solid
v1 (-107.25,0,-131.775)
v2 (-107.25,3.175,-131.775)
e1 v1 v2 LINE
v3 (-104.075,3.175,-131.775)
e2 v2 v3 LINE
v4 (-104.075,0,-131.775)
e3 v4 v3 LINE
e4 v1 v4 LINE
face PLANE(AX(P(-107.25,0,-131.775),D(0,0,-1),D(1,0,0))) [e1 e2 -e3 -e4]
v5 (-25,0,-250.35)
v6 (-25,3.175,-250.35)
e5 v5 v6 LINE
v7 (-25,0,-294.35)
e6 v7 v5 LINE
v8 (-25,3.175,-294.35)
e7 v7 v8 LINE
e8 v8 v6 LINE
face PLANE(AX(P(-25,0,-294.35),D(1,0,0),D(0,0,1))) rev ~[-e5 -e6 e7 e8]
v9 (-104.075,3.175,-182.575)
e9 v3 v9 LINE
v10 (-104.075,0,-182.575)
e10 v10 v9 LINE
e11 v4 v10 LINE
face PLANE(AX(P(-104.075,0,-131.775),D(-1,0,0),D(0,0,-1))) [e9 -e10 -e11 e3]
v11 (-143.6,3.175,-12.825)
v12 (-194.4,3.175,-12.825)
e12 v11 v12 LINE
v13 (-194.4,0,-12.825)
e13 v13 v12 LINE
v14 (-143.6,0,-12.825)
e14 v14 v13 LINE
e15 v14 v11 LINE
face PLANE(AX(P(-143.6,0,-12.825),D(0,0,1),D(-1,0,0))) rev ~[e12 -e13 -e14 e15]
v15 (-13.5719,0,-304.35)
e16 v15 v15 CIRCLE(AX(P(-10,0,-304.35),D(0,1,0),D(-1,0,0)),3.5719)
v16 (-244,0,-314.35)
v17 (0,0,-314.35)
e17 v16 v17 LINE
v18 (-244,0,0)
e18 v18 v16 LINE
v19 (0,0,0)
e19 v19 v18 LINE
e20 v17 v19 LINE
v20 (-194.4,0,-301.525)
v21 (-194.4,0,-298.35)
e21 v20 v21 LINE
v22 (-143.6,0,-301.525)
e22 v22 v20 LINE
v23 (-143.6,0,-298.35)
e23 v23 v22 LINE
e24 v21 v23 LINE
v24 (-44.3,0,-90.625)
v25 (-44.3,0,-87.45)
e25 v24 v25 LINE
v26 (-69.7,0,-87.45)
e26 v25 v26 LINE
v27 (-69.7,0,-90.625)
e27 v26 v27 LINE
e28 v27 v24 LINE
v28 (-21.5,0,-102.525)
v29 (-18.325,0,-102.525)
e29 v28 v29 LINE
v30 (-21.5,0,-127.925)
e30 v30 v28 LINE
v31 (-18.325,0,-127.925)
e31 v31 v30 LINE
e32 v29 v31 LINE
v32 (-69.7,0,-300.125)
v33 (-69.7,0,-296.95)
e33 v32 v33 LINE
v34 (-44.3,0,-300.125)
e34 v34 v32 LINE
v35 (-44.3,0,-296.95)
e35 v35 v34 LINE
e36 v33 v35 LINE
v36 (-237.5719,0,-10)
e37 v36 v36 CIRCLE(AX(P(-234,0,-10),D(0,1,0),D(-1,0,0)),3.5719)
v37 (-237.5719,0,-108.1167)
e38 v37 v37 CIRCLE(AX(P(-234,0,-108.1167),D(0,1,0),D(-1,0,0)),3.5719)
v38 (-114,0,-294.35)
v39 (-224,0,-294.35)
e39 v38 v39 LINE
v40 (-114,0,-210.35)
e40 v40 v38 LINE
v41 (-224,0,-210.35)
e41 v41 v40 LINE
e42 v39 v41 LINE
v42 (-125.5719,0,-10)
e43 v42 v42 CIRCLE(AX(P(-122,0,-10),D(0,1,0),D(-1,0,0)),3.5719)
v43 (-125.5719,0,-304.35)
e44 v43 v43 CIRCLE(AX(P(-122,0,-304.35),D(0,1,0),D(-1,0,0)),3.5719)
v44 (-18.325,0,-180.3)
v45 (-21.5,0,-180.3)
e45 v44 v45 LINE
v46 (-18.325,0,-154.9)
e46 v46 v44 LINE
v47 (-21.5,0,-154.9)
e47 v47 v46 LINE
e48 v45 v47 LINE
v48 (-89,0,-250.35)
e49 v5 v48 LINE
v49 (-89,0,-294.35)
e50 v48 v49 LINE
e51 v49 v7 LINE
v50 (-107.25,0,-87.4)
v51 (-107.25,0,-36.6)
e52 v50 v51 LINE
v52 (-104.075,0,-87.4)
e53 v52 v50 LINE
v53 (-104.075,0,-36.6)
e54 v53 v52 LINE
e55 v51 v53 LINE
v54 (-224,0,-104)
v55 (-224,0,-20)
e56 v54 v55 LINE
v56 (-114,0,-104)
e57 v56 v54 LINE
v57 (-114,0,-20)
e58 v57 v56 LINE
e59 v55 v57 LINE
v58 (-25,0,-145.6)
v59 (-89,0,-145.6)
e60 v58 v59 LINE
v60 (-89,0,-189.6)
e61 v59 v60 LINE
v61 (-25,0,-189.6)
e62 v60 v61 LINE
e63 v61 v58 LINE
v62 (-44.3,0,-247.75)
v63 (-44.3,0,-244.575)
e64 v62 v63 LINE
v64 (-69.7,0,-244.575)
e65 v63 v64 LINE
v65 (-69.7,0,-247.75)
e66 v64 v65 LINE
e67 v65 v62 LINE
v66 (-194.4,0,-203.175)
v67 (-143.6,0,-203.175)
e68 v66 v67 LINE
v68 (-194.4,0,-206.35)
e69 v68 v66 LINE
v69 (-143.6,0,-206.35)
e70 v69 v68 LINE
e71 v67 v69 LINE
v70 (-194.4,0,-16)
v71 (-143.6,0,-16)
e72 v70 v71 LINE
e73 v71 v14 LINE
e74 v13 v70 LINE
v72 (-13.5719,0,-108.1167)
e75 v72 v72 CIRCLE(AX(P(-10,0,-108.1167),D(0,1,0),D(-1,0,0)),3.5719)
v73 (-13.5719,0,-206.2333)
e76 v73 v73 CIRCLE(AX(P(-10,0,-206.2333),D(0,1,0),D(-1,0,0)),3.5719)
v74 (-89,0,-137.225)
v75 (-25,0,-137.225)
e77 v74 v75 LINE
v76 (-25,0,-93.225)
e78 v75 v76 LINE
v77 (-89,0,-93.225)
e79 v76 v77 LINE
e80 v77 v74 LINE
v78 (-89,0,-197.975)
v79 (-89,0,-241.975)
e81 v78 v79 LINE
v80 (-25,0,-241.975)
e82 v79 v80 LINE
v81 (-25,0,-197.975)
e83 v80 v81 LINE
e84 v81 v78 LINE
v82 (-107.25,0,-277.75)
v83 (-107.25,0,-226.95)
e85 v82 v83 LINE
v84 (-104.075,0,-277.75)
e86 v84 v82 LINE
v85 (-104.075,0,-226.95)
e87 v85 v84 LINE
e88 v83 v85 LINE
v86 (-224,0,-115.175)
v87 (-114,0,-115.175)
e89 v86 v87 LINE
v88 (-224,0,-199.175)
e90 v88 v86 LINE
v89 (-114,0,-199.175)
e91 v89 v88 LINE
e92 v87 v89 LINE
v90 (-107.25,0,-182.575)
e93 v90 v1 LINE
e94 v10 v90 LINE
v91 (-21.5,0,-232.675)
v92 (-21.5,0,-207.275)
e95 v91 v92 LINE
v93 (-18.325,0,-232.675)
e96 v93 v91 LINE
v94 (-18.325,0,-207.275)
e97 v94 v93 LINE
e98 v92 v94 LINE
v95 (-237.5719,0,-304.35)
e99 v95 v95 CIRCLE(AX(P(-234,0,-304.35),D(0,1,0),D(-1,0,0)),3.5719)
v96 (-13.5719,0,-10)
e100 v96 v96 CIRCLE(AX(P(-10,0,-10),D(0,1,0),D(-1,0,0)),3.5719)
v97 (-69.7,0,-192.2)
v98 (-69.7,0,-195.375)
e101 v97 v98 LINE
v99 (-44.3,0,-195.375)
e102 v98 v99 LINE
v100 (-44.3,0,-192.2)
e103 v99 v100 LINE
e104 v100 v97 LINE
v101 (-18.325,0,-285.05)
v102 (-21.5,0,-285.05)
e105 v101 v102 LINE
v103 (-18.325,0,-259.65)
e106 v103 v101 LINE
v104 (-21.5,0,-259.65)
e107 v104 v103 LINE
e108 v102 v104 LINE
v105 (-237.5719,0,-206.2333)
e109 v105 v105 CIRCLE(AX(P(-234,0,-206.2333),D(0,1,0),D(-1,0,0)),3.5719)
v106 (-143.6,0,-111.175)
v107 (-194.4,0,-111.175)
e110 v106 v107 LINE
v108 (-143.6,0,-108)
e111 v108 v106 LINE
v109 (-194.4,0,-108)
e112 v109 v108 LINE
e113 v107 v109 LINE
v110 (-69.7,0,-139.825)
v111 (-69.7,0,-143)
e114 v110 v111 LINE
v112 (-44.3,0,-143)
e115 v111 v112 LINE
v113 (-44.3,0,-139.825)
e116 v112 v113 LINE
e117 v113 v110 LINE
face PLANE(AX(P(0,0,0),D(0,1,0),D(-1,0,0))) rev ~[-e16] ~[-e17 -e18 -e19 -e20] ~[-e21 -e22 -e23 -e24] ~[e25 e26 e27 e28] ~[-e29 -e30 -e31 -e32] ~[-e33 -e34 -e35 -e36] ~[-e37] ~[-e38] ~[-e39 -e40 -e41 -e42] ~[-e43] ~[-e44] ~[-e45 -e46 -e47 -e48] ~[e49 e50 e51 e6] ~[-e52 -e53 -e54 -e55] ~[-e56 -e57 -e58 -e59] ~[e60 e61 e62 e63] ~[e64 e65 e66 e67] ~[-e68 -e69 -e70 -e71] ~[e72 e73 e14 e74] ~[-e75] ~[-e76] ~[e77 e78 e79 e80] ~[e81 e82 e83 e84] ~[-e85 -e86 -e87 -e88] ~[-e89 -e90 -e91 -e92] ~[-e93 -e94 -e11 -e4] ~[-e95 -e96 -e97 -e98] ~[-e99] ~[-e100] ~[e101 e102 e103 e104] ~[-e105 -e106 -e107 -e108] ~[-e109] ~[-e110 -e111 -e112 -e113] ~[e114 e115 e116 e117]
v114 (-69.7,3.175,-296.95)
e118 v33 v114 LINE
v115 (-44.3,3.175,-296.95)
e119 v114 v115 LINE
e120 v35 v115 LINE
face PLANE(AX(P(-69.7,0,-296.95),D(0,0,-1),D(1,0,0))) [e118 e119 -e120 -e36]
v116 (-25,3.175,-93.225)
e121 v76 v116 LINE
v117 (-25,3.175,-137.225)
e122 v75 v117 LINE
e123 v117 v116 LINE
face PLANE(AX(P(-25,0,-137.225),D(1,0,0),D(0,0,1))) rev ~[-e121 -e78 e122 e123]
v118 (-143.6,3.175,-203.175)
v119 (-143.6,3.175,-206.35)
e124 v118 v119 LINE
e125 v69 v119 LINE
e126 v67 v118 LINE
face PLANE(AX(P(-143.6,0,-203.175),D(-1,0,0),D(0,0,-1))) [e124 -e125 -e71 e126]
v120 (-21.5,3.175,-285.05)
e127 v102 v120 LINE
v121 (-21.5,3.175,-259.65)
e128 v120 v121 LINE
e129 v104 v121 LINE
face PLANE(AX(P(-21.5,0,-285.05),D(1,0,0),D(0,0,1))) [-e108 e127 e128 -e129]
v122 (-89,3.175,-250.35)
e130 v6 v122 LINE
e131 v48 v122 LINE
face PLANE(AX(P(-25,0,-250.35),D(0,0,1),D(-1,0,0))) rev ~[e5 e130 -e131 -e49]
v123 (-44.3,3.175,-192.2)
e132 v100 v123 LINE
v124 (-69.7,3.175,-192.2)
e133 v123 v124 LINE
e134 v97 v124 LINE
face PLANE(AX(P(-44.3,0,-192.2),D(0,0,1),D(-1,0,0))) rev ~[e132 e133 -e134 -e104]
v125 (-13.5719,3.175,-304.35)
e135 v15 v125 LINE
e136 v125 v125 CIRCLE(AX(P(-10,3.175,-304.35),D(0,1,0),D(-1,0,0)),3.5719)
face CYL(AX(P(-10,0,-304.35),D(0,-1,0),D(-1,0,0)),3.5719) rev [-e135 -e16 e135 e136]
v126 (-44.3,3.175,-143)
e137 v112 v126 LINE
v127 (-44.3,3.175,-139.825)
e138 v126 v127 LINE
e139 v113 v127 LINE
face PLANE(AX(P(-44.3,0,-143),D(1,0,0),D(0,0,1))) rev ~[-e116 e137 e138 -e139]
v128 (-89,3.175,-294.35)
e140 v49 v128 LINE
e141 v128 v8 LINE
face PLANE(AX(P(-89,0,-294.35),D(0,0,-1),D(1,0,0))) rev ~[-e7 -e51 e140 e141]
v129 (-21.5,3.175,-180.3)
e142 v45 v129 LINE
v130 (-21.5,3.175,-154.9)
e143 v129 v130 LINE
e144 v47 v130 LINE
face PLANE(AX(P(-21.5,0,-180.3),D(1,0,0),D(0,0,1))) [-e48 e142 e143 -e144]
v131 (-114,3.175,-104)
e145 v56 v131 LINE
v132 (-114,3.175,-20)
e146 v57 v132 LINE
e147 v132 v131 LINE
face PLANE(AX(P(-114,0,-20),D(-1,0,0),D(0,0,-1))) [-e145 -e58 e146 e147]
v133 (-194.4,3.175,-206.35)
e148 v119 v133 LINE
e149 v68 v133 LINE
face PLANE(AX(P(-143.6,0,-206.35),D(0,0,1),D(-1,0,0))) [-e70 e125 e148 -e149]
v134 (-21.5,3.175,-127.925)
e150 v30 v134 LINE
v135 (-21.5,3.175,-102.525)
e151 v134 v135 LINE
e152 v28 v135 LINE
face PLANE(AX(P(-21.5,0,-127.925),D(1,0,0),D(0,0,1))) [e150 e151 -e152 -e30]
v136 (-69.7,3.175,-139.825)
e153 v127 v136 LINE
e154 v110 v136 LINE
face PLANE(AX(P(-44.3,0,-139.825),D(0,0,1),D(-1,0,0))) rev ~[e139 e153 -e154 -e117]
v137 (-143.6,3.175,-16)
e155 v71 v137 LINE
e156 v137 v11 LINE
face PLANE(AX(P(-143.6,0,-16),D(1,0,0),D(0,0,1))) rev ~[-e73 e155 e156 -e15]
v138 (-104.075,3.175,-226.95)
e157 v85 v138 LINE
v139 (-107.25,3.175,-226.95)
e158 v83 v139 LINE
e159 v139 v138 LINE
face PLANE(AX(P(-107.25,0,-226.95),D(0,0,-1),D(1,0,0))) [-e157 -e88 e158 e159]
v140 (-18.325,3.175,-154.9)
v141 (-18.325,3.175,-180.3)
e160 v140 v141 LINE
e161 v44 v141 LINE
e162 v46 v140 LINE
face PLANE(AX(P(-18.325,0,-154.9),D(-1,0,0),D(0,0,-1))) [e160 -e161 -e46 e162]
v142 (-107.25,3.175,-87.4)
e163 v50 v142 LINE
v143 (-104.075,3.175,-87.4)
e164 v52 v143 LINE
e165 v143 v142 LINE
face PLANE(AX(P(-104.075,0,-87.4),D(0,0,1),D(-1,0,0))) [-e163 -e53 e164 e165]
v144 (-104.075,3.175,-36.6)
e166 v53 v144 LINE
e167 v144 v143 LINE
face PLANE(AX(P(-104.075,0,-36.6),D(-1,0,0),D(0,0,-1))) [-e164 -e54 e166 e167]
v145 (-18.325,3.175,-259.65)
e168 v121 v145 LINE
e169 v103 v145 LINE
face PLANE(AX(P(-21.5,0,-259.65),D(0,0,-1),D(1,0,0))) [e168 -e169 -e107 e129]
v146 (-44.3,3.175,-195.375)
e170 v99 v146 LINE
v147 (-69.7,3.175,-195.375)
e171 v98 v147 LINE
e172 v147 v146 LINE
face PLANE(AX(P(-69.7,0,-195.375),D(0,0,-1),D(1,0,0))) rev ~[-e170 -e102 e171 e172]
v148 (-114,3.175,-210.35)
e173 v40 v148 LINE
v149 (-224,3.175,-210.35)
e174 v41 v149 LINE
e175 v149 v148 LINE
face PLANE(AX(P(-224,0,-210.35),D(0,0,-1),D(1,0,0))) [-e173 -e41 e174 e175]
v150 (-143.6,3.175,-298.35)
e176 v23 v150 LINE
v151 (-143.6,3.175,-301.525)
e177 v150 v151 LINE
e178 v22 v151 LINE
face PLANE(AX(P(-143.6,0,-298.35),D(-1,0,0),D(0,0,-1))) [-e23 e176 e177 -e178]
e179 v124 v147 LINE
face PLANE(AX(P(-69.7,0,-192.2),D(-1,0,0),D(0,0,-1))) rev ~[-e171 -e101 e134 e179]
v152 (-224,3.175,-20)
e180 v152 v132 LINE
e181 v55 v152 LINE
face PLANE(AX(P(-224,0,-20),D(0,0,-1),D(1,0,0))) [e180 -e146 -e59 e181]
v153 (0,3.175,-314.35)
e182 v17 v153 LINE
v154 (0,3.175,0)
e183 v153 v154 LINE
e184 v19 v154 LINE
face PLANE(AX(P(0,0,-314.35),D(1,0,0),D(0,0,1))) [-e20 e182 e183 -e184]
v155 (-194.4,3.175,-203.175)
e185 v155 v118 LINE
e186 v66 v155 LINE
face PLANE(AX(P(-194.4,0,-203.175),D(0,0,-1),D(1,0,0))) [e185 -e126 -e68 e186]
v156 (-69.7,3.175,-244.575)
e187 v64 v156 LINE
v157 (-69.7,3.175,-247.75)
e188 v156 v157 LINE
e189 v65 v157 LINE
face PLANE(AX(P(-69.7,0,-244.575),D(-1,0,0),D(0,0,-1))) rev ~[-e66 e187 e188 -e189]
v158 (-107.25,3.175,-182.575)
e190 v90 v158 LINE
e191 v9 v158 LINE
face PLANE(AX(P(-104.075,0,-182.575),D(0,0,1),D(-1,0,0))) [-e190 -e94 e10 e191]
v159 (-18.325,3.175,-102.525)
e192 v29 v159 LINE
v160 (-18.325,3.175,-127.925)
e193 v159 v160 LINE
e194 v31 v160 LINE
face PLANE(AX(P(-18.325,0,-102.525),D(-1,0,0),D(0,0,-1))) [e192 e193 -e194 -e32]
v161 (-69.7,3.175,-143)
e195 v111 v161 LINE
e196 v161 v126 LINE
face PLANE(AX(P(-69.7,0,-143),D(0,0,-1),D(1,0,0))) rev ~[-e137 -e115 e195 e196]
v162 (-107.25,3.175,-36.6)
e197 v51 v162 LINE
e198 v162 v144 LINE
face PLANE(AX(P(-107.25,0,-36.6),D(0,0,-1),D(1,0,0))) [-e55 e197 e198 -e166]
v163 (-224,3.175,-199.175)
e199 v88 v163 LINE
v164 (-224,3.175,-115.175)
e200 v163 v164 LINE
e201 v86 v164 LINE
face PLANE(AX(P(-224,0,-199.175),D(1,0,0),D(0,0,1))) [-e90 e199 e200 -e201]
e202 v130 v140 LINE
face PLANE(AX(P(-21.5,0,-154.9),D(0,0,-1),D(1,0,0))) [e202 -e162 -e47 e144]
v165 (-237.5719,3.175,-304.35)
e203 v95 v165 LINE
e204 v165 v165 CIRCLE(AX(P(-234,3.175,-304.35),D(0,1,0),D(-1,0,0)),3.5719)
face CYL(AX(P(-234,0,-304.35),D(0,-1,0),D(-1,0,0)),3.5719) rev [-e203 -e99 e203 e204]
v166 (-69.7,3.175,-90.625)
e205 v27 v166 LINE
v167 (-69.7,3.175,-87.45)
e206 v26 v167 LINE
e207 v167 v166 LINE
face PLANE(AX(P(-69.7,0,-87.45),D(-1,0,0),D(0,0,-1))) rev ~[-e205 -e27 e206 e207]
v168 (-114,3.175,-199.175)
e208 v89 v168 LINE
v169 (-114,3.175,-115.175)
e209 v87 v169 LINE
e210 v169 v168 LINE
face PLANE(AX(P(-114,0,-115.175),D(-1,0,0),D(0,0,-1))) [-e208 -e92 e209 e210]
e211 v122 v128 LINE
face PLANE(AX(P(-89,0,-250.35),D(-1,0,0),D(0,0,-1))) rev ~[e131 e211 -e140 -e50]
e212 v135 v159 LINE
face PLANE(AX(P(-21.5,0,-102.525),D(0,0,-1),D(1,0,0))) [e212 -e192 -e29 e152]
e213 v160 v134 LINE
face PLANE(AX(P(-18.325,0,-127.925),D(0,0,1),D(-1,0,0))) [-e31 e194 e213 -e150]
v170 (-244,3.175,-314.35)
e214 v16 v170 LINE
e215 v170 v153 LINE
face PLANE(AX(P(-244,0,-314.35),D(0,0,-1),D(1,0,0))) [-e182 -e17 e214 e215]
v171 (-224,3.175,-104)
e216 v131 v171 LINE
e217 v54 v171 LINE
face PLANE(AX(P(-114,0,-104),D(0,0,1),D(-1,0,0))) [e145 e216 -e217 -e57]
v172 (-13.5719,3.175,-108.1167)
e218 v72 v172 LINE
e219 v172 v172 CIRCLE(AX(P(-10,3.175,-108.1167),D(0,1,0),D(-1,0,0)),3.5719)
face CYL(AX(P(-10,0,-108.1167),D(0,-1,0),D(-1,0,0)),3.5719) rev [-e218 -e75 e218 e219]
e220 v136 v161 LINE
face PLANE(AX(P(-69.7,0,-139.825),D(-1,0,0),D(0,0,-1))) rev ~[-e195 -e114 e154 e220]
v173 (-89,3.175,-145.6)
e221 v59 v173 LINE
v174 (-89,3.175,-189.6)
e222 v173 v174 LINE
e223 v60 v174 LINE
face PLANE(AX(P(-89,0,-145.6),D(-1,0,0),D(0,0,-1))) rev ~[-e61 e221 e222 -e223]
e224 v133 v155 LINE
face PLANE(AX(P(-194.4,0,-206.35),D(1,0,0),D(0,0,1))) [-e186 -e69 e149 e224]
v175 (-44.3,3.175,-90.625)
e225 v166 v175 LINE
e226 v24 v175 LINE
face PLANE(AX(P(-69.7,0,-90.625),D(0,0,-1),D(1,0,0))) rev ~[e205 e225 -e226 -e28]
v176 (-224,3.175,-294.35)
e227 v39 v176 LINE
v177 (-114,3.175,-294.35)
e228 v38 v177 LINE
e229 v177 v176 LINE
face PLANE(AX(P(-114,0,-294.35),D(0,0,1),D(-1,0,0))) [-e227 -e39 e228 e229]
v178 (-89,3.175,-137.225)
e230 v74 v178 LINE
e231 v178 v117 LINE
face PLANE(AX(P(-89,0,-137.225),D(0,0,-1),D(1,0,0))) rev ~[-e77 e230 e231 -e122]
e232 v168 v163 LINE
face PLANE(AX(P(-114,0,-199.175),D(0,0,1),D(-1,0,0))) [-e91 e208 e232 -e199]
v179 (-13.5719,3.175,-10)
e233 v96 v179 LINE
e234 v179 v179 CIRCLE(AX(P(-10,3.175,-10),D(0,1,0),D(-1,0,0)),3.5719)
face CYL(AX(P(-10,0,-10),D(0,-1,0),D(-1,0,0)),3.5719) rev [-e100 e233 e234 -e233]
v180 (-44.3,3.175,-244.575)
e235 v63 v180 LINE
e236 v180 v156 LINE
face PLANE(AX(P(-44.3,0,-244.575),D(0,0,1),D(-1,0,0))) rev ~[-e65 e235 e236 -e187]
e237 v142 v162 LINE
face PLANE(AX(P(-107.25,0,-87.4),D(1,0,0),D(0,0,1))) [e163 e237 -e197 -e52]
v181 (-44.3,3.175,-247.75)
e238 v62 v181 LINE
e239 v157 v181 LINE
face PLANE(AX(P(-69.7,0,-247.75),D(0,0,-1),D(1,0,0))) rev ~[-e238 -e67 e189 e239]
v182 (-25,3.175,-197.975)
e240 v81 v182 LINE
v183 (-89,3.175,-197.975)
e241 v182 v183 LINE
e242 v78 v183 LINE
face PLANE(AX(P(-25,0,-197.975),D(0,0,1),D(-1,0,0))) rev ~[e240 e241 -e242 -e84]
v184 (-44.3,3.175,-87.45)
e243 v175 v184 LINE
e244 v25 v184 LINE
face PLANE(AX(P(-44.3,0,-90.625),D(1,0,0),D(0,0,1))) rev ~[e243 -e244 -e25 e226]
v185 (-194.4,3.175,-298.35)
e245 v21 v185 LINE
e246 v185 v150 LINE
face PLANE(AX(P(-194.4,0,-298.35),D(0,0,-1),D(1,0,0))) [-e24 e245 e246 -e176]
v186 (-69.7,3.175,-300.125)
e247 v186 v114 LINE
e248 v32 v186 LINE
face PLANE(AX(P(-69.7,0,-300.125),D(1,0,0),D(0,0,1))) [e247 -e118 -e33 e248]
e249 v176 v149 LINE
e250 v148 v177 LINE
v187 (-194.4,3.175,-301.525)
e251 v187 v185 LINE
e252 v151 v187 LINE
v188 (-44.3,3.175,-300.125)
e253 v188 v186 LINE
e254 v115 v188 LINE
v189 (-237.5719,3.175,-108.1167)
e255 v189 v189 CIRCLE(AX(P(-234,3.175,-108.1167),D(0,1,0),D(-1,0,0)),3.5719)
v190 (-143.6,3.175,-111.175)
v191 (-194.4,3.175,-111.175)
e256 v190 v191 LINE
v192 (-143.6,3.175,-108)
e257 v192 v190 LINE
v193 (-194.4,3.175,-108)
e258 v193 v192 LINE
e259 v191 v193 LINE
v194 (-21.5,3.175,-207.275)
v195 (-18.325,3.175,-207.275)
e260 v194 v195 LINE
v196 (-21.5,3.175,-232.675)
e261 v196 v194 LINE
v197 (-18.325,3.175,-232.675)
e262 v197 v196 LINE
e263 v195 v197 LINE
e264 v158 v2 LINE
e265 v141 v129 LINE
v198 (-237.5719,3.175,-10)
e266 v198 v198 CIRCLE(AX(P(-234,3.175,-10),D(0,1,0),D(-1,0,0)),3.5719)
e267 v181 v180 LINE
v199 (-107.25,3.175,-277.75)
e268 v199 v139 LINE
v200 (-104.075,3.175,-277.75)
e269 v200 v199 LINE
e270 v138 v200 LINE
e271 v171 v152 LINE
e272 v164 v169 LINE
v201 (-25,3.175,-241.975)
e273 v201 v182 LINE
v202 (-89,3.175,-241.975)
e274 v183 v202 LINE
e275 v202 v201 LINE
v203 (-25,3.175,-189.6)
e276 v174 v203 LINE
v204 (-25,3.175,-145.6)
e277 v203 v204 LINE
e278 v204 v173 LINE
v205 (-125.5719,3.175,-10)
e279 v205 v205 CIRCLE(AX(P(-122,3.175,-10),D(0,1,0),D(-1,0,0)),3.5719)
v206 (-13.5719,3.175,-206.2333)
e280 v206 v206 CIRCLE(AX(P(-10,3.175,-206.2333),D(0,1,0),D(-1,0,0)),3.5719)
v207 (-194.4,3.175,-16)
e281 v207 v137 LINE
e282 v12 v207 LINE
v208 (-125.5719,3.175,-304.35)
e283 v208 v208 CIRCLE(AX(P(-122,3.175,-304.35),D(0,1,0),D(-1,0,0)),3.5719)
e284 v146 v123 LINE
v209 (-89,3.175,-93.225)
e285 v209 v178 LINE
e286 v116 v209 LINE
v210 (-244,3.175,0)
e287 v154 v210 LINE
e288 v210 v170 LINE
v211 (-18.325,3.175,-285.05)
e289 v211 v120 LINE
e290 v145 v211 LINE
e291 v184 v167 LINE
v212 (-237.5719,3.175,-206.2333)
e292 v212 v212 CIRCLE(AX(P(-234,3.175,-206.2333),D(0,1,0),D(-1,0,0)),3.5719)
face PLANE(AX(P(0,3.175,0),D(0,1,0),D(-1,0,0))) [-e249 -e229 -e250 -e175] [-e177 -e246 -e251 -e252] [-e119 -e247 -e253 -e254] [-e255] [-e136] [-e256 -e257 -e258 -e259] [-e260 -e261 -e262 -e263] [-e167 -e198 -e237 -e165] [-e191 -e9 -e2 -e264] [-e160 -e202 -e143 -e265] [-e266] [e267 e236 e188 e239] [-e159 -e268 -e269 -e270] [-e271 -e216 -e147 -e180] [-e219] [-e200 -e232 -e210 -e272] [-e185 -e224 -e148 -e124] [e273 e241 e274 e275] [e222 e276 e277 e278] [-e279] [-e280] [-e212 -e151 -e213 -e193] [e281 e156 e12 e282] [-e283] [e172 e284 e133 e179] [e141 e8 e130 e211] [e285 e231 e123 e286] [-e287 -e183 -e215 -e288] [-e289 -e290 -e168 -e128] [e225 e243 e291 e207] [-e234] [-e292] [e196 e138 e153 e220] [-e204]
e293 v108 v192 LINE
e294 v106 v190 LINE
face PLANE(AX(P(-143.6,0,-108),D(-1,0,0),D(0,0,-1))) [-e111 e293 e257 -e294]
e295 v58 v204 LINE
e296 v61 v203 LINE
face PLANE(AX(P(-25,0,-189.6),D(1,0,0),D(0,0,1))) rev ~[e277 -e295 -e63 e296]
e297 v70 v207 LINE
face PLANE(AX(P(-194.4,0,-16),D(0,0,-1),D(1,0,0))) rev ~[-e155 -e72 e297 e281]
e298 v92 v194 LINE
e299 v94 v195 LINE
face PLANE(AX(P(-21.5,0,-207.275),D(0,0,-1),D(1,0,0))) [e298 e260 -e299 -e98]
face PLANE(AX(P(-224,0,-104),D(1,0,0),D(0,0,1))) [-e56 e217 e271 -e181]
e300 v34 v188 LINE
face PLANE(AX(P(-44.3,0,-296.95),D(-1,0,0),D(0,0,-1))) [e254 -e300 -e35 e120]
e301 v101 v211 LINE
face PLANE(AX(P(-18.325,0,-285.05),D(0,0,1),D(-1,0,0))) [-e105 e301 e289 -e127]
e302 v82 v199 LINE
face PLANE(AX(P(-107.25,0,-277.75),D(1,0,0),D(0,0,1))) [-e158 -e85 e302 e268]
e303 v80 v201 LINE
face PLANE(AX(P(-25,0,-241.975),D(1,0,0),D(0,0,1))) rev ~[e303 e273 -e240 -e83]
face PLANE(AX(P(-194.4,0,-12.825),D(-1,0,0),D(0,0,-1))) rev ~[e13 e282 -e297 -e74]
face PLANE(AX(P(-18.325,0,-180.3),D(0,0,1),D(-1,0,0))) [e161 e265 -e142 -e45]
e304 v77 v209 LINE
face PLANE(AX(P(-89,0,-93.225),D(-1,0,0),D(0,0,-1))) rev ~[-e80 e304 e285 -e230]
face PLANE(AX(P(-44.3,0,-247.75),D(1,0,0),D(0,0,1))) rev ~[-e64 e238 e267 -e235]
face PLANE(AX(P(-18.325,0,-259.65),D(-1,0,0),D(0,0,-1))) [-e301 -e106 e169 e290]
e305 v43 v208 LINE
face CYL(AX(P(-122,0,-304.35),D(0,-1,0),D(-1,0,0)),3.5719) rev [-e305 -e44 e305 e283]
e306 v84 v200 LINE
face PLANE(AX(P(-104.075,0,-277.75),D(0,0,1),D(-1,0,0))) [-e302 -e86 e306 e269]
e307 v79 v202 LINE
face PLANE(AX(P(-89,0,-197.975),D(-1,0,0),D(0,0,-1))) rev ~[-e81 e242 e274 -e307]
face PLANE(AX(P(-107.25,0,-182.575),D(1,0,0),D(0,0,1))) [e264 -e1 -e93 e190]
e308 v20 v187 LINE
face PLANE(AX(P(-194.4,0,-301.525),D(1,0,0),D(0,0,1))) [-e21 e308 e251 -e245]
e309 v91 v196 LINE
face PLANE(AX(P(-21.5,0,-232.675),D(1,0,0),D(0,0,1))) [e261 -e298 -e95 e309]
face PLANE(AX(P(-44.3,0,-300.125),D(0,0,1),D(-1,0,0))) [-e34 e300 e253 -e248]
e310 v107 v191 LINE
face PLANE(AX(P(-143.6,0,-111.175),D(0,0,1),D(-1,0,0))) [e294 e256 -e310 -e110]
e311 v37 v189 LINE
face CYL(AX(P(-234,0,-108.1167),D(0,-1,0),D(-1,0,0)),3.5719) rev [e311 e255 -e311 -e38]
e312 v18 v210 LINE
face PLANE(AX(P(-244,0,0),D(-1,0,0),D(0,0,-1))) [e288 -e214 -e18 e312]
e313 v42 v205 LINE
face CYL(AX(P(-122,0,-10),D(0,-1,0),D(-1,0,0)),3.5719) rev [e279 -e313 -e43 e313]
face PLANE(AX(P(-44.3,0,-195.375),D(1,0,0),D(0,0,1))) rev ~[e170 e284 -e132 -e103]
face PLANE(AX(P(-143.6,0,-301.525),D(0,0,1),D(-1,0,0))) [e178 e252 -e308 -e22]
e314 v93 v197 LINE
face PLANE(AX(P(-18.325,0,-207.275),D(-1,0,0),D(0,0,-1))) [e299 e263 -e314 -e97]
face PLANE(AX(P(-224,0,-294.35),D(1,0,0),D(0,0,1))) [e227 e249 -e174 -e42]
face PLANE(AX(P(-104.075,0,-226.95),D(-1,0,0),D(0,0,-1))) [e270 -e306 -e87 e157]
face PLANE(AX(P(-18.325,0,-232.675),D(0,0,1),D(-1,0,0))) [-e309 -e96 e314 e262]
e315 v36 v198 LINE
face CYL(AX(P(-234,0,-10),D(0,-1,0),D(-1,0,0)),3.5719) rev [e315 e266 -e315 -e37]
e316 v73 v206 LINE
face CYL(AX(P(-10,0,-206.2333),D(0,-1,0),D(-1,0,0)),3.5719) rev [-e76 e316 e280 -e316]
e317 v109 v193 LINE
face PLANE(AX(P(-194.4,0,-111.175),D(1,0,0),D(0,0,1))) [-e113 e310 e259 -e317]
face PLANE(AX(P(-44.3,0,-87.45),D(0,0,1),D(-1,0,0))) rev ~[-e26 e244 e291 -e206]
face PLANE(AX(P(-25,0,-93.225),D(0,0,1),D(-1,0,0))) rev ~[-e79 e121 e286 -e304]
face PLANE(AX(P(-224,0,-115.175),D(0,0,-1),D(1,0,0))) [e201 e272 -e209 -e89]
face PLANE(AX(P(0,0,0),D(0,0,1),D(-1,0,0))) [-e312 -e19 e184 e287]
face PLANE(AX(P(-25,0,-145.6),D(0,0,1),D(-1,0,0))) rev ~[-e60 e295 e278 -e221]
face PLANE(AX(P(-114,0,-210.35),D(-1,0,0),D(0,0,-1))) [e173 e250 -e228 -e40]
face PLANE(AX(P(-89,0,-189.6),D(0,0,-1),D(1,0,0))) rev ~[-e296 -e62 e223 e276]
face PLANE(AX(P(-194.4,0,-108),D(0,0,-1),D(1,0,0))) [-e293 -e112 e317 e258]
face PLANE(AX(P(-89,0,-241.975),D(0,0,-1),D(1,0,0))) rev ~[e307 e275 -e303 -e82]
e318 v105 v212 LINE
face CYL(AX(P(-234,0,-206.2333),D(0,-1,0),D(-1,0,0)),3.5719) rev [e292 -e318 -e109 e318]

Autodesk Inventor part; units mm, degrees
ref_plane "YZ Plane" through (0, 0, 0) normal (1, 0, 0) x (0, 1, 0)
ref_plane "XZ Plane" through (0, 0, 0) normal (0, 1, 0) x (-1, 0, 0)
ref_plane "XY Plane" through (0, 0, 0) normal (0, 0, 1) x (1, 0, 0)
sketch "Sketch1" plane through (0, 0, 0) normal (0, 1, 0) x (-1, 0, 0)
  line L0 (0, 0) -> (244, 0)
  line L1 (244, 0) -> (244, -314.35)
  line L2 (244, -314.35) -> (0, -314.35)
  line L3 (0, -314.35) -> (0, 0)
  line L4 (224, -20) -> (114, -20)
  line L5 (114, -20) -> (114, -104)
  line L6 (114, -104) -> (224, -104)
  line L7 (224, -104) -> (224, -20)
  line L8 (89, -294.35) -> (25, -294.35)
  line L9 (25, -294.35) -> (25, -250.35)
  line L10 (25, -250.35) -> (89, -250.35)
  line L11 (89, -250.35) -> (89, -294.35)
  line L12 (229.75, -107) -> (108.25, -107) construction
  line L13 (108.25, -107) -> (108.25, -17) construction
  line L14 (108.25, -17) -> (229.75, -17) construction
  line L15 (229.75, -17) -> (229.75, -107) construction
  line L16 (91.5, -248.75) -> (22.5, -248.75) construction
  line L17 (22.5, -248.75) -> (22.5, -295.95) construction
  line L18 (22.5, -295.95) -> (91.5, -295.95) construction
  line L19 (91.5, -295.95) -> (91.5, -248.75) construction
  line L20 (194.4, -108) -> (143.6, -108)
  line L21 (143.6, -108) -> (143.6, -111.175)
  line L22 (143.6, -111.175) -> (194.4, -111.175)
  line L23 (194.4, -111.175) -> (194.4, -108)
  line L24 (194.4, -16) -> (143.6, -16)
  line L25 (143.6, -16) -> (143.6, -12.825)
  line L26 (143.6, -12.825) -> (194.4, -12.825)
  line L27 (194.4, -12.825) -> (194.4, -16)
  line L28 (107.25, -36.6) -> (104.075, -36.6)
  line L29 (104.075, -36.6) -> (104.075, -87.4)
  line L30 (104.075, -87.4) -> (107.25, -87.4)
  line L31 (107.25, -87.4) -> (107.25, -36.6)
  line L32 (194.4, -206.35) -> (194.4, -203.175)
  line L33 (143.6, -203.175) -> (143.6, -206.35)
  line L34 (194.4, -203.175) -> (143.6, -203.175)
  line L35 (143.6, -206.35) -> (194.4, -206.35)
  line L36 (104.075, -182.575) -> (107.25, -182.575)
  line L37 (114, -115.175) -> (114, -199.175)
  line L38 (108.25, -202.175) -> (108.25, -112.175) construction
  line L39 (107.25, -182.575) -> (107.25, -131.775)
  line L40 (107.25, -131.775) -> (104.075, -131.775)
  line L41 (104.075, -131.775) -> (104.075, -182.575)
  line L42 (224, -115.175) -> (114, -115.175)
  line L43 (114, -199.175) -> (224, -199.175)
  line L44 (229.75, -202.175) -> (108.25, -202.175) construction
  line L45 (224, -199.175) -> (224, -115.175)
  line L46 (229.75, -112.175) -> (229.75, -202.175) construction
  line L47 (108.25, -112.175) -> (229.75, -112.175) construction
  line L48 (194.4, -301.525) -> (194.4, -298.35)
  line L49 (143.6, -298.35) -> (143.6, -301.525)
  line L50 (194.4, -298.35) -> (143.6, -298.35)
  line L51 (143.6, -301.525) -> (194.4, -301.525)
  line L52 (104.075, -277.75) -> (107.25, -277.75)
  line L53 (114, -210.35) -> (114, -294.35)
  line L54 (108.25, -297.35) -> (108.25, -207.35) construction
  line L55 (107.25, -277.75) -> (107.25, -226.95)
  line L56 (107.25, -226.95) -> (104.075, -226.95)
  line L57 (104.075, -226.95) -> (104.075, -277.75)
  line L58 (224, -210.35) -> (114, -210.35)
  line L59 (114, -294.35) -> (224, -294.35)
  line L60 (229.75, -297.35) -> (108.25, -297.35) construction
  line L61 (224, -294.35) -> (224, -210.35)
  line L62 (229.75, -207.35) -> (229.75, -297.35) construction
  line L63 (108.25, -207.35) -> (229.75, -207.35) construction
  line L64 (69.7, -247.75) -> (44.3, -247.75)
  line L65 (44.3, -247.75) -> (44.3, -244.575)
  line L66 (44.3, -244.575) -> (69.7, -244.575)
  line L67 (69.7, -244.575) -> (69.7, -247.75)
  line L68 (69.7, -296.95) -> (44.3, -296.95)
  line L69 (44.3, -296.95) -> (44.3, -300.125)
  line L70 (44.3, -300.125) -> (69.7, -300.125)
  line L71 (69.7, -300.125) -> (69.7, -296.95)
  line L72 (21.5, -259.65) -> (18.325, -259.65)
  line L73 (18.325, -259.65) -> (18.325, -285.05)
  line L74 (18.325, -285.05) -> (21.5, -285.05)
  line L75 (21.5, -285.05) -> (21.5, -259.65)
  line L76 (25, -241.975) -> (25, -197.975)
  line L77 (44.3, -195.375) -> (44.3, -192.2)
  line L78 (21.5, -207.275) -> (18.325, -207.275)
  line L79 (21.5, -232.675) -> (21.5, -207.275)
  line L80 (18.325, -207.275) -> (18.325, -232.675)
  line L81 (18.325, -232.675) -> (21.5, -232.675)
  line L82 (89, -241.975) -> (25, -241.975)
  line L83 (25, -197.975) -> (89, -197.975)
  line L84 (44.3, -192.2) -> (69.7, -192.2)
  line L85 (69.7, -195.375) -> (44.3, -195.375)
  line L86 (91.5, -196.375) -> (22.5, -196.375) construction
  line L87 (89, -197.975) -> (89, -241.975)
  line L88 (69.7, -192.2) -> (69.7, -195.375)
  line L89 (22.5, -196.375) -> (22.5, -243.575) construction
  line L90 (22.5, -243.575) -> (91.5, -243.575) construction
  line L91 (91.5, -243.575) -> (91.5, -196.375) construction
  line L92 (25, -189.6) -> (25, -145.6)
  line L93 (44.3, -143) -> (44.3, -139.825)
  line L94 (21.5, -154.9) -> (18.325, -154.9)
  line L95 (21.5, -180.3) -> (21.5, -154.9)
  line L96 (18.325, -154.9) -> (18.325, -180.3)
  line L97 (18.325, -180.3) -> (21.5, -180.3)
  line L98 (89, -189.6) -> (25, -189.6)
  line L99 (25, -145.6) -> (89, -145.6)
  line L100 (44.3, -139.825) -> (69.7, -139.825)
  line L101 (69.7, -143) -> (44.3, -143)
  line L102 (91.5, -144) -> (22.5, -144) construction
  line L103 (89, -145.6) -> (89, -189.6)
  line L104 (69.7, -139.825) -> (69.7, -143)
  line L105 (22.5, -144) -> (22.5, -191.2) construction
  line L106 (22.5, -191.2) -> (91.5, -191.2) construction
  line L107 (91.5, -191.2) -> (91.5, -144) construction
  line L108 (25, -137.225) -> (25, -93.225)
  line L109 (44.3, -90.625) -> (44.3, -87.45)
  line L110 (21.5, -102.525) -> (18.325, -102.525)
  line L111 (21.5, -127.925) -> (21.5, -102.525)
  line L112 (18.325, -102.525) -> (18.325, -127.925)
  line L113 (18.325, -127.925) -> (21.5, -127.925)
  line L114 (89, -137.225) -> (25, -137.225)
  line L115 (25, -93.225) -> (89, -93.225)
  line L116 (44.3, -87.45) -> (69.7, -87.45)
  line L117 (69.7, -90.625) -> (44.3, -90.625)
  line L118 (91.5, -91.625) -> (22.5, -91.625) construction
  line L119 (89, -93.225) -> (89, -137.225)
  line L120 (69.7, -87.45) -> (69.7, -90.625)
  line L121 (22.5, -91.625) -> (22.5, -138.825) construction
  line L122 (22.5, -138.825) -> (91.5, -138.825) construction
  line L123 (91.5, -138.825) -> (91.5, -91.625) construction
  circle A0 centre (234, -10) radius 3.5719
  circle A1 centre (234, -108.1167) radius 3.5719
  circle A2 centre (234, -206.2333) radius 3.5719
  circle A3 centre (234, -304.35) radius 3.5719
  circle A4 centre (122, -10) radius 3.5719
  circle A5 centre (10, -10) radius 3.5719
  circle A6 centre (10, -108.1167) radius 3.5719
  circle A7 centre (10, -206.2333) radius 3.5719
  circle A8 centre (10, -304.35) radius 3.5719
  circle A9 centre (122, -304.35) radius 3.5719
  point P0 (229.75, -62)
  point P1 (229.75, -157.175)
  point P2 (229.75, -252.35)
  dimension "d2" = 110
  dimension "d3" = 84
  dimension "d11" = 20
  dimension "d12" = 20
  dimension "d14" = 64
  dimension "d15" = 44
  dimension "d17" = 20
  dimension "d18" = 25
  dimension "d28" = 90
  dimension "d29" = 121.5
  dimension "d30" = 3
  dimension "d31" = 5.75
  dimension "d32" = 47.2
  dimension "d33" = 69
  dimension "d34" = 2.5
  dimension "d35" = 1.6
  dimension "d66" = 50.8
  dimension "d67" = 3.175
  dimension "d69" = 4
  dimension "d70" = 3.175
  dimension "d71" = 4
  dimension "d72" = 50.8
  dimension "d73" = 3.175
  dimension "d74" = 50.8
  dimension "d75" = 6.75
  dimension "d79" = 95.175
  dimension "d84" = 25.4
  dimension "d85" = 3.175
  dimension "d86" = 2.6
  dimension "d87" = 25.4
  dimension "d88" = 3.175
  dimension "d89" = 2.6
  dimension "d97" = 25.4
  dimension "d98" = 3.175
  dimension "d99" = 3.5
  dimension "d102" = 52.375
  dimension "d107" = 25
  dimension "d108" = 20
  dimension "d109" = 29.6
  dimension "d110" = 29.6
  dimension "d111" = 16.6
  dimension "d112" = 19.3
  dimension "d113" = 19.3
  dimension "d114" = 9.3
  dimension "d129" = 7.1437
  dimension "d130" = 10
  dimension "d131" = 10
  dimension "d132" = 314.35
  dimension "d133" = 244
  dimension "d136" = 98.1167
  dimension "d143" = 112
  dimension "d150" = 98.1167
  dimension "d157" = 112
extrude "Extrusion1" add sketch "Sketch1" along normal blind 3.175
sketch "Sketch3" plane through (0, 0, 0) normal (0, -1, 0) x (1, 0, 0)
  line L0 (0, -314.35) -> (-244, -314.35) projected
  line L1 (0, 0) -> (0, -314.35) projected
  line L2 (-244, 0) -> (0, 0) projected
  line L3 (-244, -314.35) -> (-244, 0) projected
  line L4 (-21.5, -102.525) -> (-21.5, -127.925) projected
  line L5 (-18.325, -102.525) -> (-21.5, -102.525) projected
  line L6 (-18.325, -127.925) -> (-18.325, -102.525) projected
  line L7 (-21.5, -127.925) -> (-18.325, -127.925) projected
  line L8 (-44.3, -90.625) -> (-44.3, -87.45) projected
  line L9 (-69.7, -90.625) -> (-44.3, -90.625) projected
  line L10 (-69.7, -87.45) -> (-69.7, -90.625) projected
  line L11 (-44.3, -87.45) -> (-69.7, -87.45) projected
  line L12 (-25, -137.225) -> (-25, -93.225) projected
  line L13 (-89, -137.225) -> (-25, -137.225) projected
  line L14 (-89, -93.225) -> (-89, -137.225) projected
  line L15 (-25, -93.225) -> (-89, -93.225) projected
  line L16 (-21.5, -154.9) -> (-21.5, -180.3) projected
  line L17 (-18.325, -154.9) -> (-21.5, -154.9) projected
  line L18 (-18.325, -180.3) -> (-18.325, -154.9) projected
  line L19 (-21.5, -180.3) -> (-18.325, -180.3) projected
  line L20 (-44.3, -143) -> (-44.3, -139.825) projected
  line L21 (-69.7, -143) -> (-44.3, -143) projected
  line L22 (-69.7, -139.825) -> (-69.7, -143) projected
  line L23 (-44.3, -139.825) -> (-69.7, -139.825) projected
  line L24 (-25, -189.6) -> (-25, -145.6) projected
  line L25 (-89, -189.6) -> (-25, -189.6) projected
  line L26 (-89, -145.6) -> (-89, -189.6) projected
  line L27 (-25, -145.6) -> (-89, -145.6) projected
  line L28 (-21.5, -207.275) -> (-21.5, -232.675) projected
  line L29 (-18.325, -207.275) -> (-21.5, -207.275) projected
  line L30 (-18.325, -232.675) -> (-18.325, -207.275) projected
  line L31 (-21.5, -232.675) -> (-18.325, -232.675) projected
  line L32 (-44.3, -195.375) -> (-44.3, -192.2) projected
  line L33 (-69.7, -195.375) -> (-44.3, -195.375) projected
  line L34 (-69.7, -192.2) -> (-69.7, -195.375) projected
  line L35 (-44.3, -192.2) -> (-69.7, -192.2) projected
  line L36 (-25, -241.975) -> (-25, -197.975) projected
  line L37 (-89, -241.975) -> (-25, -241.975) projected
  line L38 (-89, -197.975) -> (-89, -241.975) projected
  line L39 (-25, -197.975) -> (-89, -197.975) projected
  line L40 (-21.5, -259.65) -> (-21.5, -285.05) projected
  line L41 (-18.325, -259.65) -> (-21.5, -259.65) projected
  line L42 (-18.325, -285.05) -> (-18.325, -259.65) projected
  line L43 (-21.5, -285.05) -> (-18.325, -285.05) projected
  line L44 (-69.7, -296.95) -> (-69.7, -300.125) projected
  line L45 (-44.3, -296.95) -> (-69.7, -296.95) projected
  line L46 (-44.3, -300.125) -> (-44.3, -296.95) projected
  line L47 (-69.7, -300.125) -> (-44.3, -300.125) projected
  line L48 (-69.7, -247.75) -> (-44.3, -247.75) projected
  line L49 (-69.7, -244.575) -> (-69.7, -247.75) projected
  line L50 (-44.3, -244.575) -> (-69.7, -244.575) projected
  line L51 (-44.3, -247.75) -> (-44.3, -244.575) projected
  line L52 (-114, -210.35) -> (-224, -210.35) projected
  line L53 (-114, -294.35) -> (-114, -210.35) projected
  line L54 (-224, -294.35) -> (-114, -294.35) projected
  line L55 (-224, -210.35) -> (-224, -294.35) projected
  line L56 (-104.075, -277.75) -> (-104.075, -226.95) projected
  line L57 (-107.25, -277.75) -> (-104.075, -277.75) projected
  line L58 (-107.25, -226.95) -> (-107.25, -277.75) projected
  line L59 (-104.075, -226.95) -> (-107.25, -226.95) projected
  line L60 (-194.4, -301.525) -> (-143.6, -301.525) projected
  line L61 (-194.4, -298.35) -> (-194.4, -301.525) projected
  line L62 (-143.6, -298.35) -> (-194.4, -298.35) projected
  line L63 (-143.6, -301.525) -> (-143.6, -298.35) projected
  line L64 (-114, -115.175) -> (-224, -115.175) projected
  line L65 (-114, -199.175) -> (-114, -115.175) projected
  line L66 (-224, -199.175) -> (-114, -199.175) projected
  line L67 (-224, -115.175) -> (-224, -199.175) projected
  line L68 (-104.075, -182.575) -> (-104.075, -131.775) projected
  line L69 (-107.25, -182.575) -> (-104.075, -182.575) projected
  line L70 (-107.25, -131.775) -> (-107.25, -182.575) projected
  line L71 (-104.075, -131.775) -> (-107.25, -131.775) projected
  line L72 (-194.4, -206.35) -> (-143.6, -206.35) projected
  line L73 (-194.4, -203.175) -> (-194.4, -206.35) projected
  line L74 (-143.6, -203.175) -> (-194.4, -203.175) projected
  line L75 (-143.6, -206.35) -> (-143.6, -203.175) projected
  line L76 (-107.25, -36.6) -> (-107.25, -87.4) projected
  line L77 (-104.075, -36.6) -> (-107.25, -36.6) projected
  line L78 (-104.075, -87.4) -> (-104.075, -36.6) projected
  line L79 (-107.25, -87.4) -> (-104.075, -87.4) projected
  line L80 (-194.4, -16) -> (-143.6, -16) projected
  line L81 (-194.4, -12.825) -> (-194.4, -16) projected
  line L82 (-143.6, -12.825) -> (-194.4, -12.825) projected
  line L83 (-143.6, -16) -> (-143.6, -12.825) projected
  line L84 (-194.4, -108) -> (-194.4, -111.175) projected
  line L85 (-143.6, -108) -> (-194.4, -108) projected
  line L86 (-143.6, -111.175) -> (-143.6, -108) projected
  line L87 (-194.4, -111.175) -> (-143.6, -111.175) projected
  line L88 (-89, -294.35) -> (-25, -294.35) projected
  line L89 (-89, -250.35) -> (-89, -294.35) projected
  line L90 (-25, -250.35) -> (-89, -250.35) projected
  line L91 (-25, -294.35) -> (-25, -250.35) projected
  line L92 (-224, -20) -> (-224, -104) projected
  line L93 (-114, -20) -> (-224, -20) projected
  line L94 (-114, -104) -> (-114, -20) projected
  line L95 (-224, -104) -> (-114, -104) projected
extrude "Extrusion2" [suppressed]
sketch "Sketch4" plane through (0, 3.175, 0) normal (0, 1, 0) x (1, 0, 0)
  line L0 (0, 314.35) -> (-244, 314.35) projected
  line L1 (-244, 314.35) -> (-244, 0) projected
  line L2 (-244, 0) -> (0, 0) projected
  line L3 (0, 0) -> (0, 314.35) projected
  circle A0 centre (-122, 304.35) radius 3.5719 projected
  circle A1 centre (-10, 206.2333) radius 3.5719 projected
  circle A2 centre (-10, 108.1167) radius 3.5719 projected
  circle A3 centre (-10, 10) radius 3.5719 projected
  circle A4 centre (-122, 10) radius 3.5719 projected
  circle A5 centre (-234, 304.35) radius 3.5719 projected
  circle A6 centre (-234, 206.2333) radius 3.5719 projected
  circle A7 centre (-234, 108.1167) radius 3.5719 projected
  circle A8 centre (-234, 10) radius 3.5719 projected
  circle A9 centre (-10, 304.35) radius 3.5719 projected
  line L4 (-21.5, 102.525) -> (-21.5, 127.925) projected
  line L5 (-21.5, 127.925) -> (-18.325, 127.925) projected
  line L6 (-18.325, 127.925) -> (-18.325, 102.525) projected
  line L7 (-18.325, 102.525) -> (-21.5, 102.525) projected
  line L8 (-44.3, 90.625) -> (-44.3, 87.45) projected
  line L9 (-44.3, 87.45) -> (-69.7, 87.45) projected
  line L10 (-69.7, 87.45) -> (-69.7, 90.625) projected
  line L11 (-69.7, 90.625) -> (-44.3, 90.625) projected
  line L12 (-25, 137.225) -> (-25, 93.225) projected
  line L13 (-25, 93.225) -> (-89, 93.225) projected
  line L14 (-89, 93.225) -> (-89, 137.225) projected
  line L15 (-89, 137.225) -> (-25, 137.225) projected
  line L16 (-21.5, 154.9) -> (-21.5, 180.3) projected
  line L17 (-21.5, 180.3) -> (-18.325, 180.3) projected
  line L18 (-18.325, 180.3) -> (-18.325, 154.9) projected
  line L19 (-18.325, 154.9) -> (-21.5, 154.9) projected
  line L20 (-44.3, 143) -> (-44.3, 139.825) projected
  line L21 (-44.3, 139.825) -> (-69.7, 139.825) projected
  line L22 (-69.7, 139.825) -> (-69.7, 143) projected
  line L23 (-69.7, 143) -> (-44.3, 143) projected
  line L24 (-25, 189.6) -> (-25, 145.6) projected
  line L25 (-25, 145.6) -> (-89, 145.6) projected
  line L26 (-89, 145.6) -> (-89, 189.6) projected
  line L27 (-89, 189.6) -> (-25, 189.6) projected
  line L28 (-21.5, 207.275) -> (-21.5, 232.675) projected
  line L29 (-21.5, 232.675) -> (-18.325, 232.675) projected
  line L30 (-18.325, 232.675) -> (-18.325, 207.275) projected
  line L31 (-18.325, 207.275) -> (-21.5, 207.275) projected
  line L32 (-44.3, 195.375) -> (-44.3, 192.2) projected
  line L33 (-44.3, 192.2) -> (-69.7, 192.2) projected
  line L34 (-69.7, 192.2) -> (-69.7, 195.375) projected
  line L35 (-69.7, 195.375) -> (-44.3, 195.375) projected
  line L36 (-25, 241.975) -> (-25, 197.975) projected
  line L37 (-25, 197.975) -> (-89, 197.975) projected
  line L38 (-89, 197.975) -> (-89, 241.975) projected
  line L39 (-89, 241.975) -> (-25, 241.975) projected
  line L40 (-21.5, 259.65) -> (-21.5, 285.05) projected
  line L41 (-21.5, 285.05) -> (-18.325, 285.05) projected
  line L42 (-18.325, 285.05) -> (-18.325, 259.65) projected
  line L43 (-18.325, 259.65) -> (-21.5, 259.65) projected
  line L44 (-69.7, 296.95) -> (-69.7, 300.125) projected
  line L45 (-69.7, 300.125) -> (-44.3, 300.125) projected
  line L46 (-44.3, 300.125) -> (-44.3, 296.95) projected
  line L47 (-44.3, 296.95) -> (-69.7, 296.95) projected
  line L48 (-69.7, 247.75) -> (-44.3, 247.75) projected
  line L49 (-44.3, 247.75) -> (-44.3, 244.575) projected
  line L50 (-44.3, 244.575) -> (-69.7, 244.575) projected
  line L51 (-69.7, 244.575) -> (-69.7, 247.75) projected
  line L52 (-114, 210.35) -> (-224, 210.35) projected
  line L53 (-224, 210.35) -> (-224, 294.35) projected
  line L54 (-224, 294.35) -> (-114, 294.35) projected
  line L55 (-114, 294.35) -> (-114, 210.35) projected
  line L56 (-104.075, 277.75) -> (-104.075, 226.95) projected
  line L57 (-104.075, 226.95) -> (-107.25, 226.95) projected
  line L58 (-107.25, 226.95) -> (-107.25, 277.75) projected
  line L59 (-107.25, 277.75) -> (-104.075, 277.75) projected
  line L60 (-194.4, 301.525) -> (-143.6, 301.525) projected
  line L61 (-143.6, 301.525) -> (-143.6, 298.35) projected
  line L62 (-143.6, 298.35) -> (-194.4, 298.35) projected
  line L63 (-194.4, 298.35) -> (-194.4, 301.525) projected
  line L64 (-114, 115.175) -> (-224, 115.175) projected
  line L65 (-224, 115.175) -> (-224, 199.175) projected
  line L66 (-224, 199.175) -> (-114, 199.175) projected
  line L67 (-114, 199.175) -> (-114, 115.175) projected
  line L68 (-104.075, 182.575) -> (-104.075, 131.775) projected
  line L69 (-104.075, 131.775) -> (-107.25, 131.775) projected
  line L70 (-107.25, 131.775) -> (-107.25, 182.575) projected
  line L71 (-107.25, 182.575) -> (-104.075, 182.575) projected
  line L72 (-194.4, 206.35) -> (-143.6, 206.35) projected
  line L73 (-143.6, 206.35) -> (-143.6, 203.175) projected
  line L74 (-143.6, 203.175) -> (-194.4, 203.175) projected
  line L75 (-194.4, 203.175) -> (-194.4, 206.35) projected
  line L76 (-107.25, 36.6) -> (-107.25, 87.4) projected
  line L77 (-107.25, 87.4) -> (-104.075, 87.4) projected
  line L78 (-104.075, 87.4) -> (-104.075, 36.6) projected
  line L79 (-104.075, 36.6) -> (-107.25, 36.6) projected
  line L80 (-194.4, 16) -> (-143.6, 16) projected
  line L81 (-143.6, 16) -> (-143.6, 12.825) projected
  line L82 (-143.6, 12.825) -> (-194.4, 12.825) projected
  line L83 (-194.4, 12.825) -> (-194.4, 16) projected
  line L84 (-194.4, 108) -> (-194.4, 111.175) projected
  line L85 (-194.4, 111.175) -> (-143.6, 111.175) projected
  line L86 (-143.6, 111.175) -> (-143.6, 108) projected
  line L87 (-143.6, 108) -> (-194.4, 108) projected
  line L88 (-89, 294.35) -> (-25, 294.35) projected
  line L89 (-25, 294.35) -> (-25, 250.35) projected
  line L90 (-25, 250.35) -> (-89, 250.35) projected
  line L91 (-89, 250.35) -> (-89, 294.35) projected
  line L92 (-224, 20) -> (-224, 104) projected
  line L93 (-224, 104) -> (-114, 104) projected
  line L94 (-114, 104) -> (-114, 20) projected
  line L95 (-114, 20) -> (-224, 20) projected
  line L96 (-239.5562, 6.7921) -> (-239.5562, 13.2079)
  line L97 (-239.5562, 13.2079) -> (-234, 16.4158)
  line L98 (-234, 16.4158) -> (-228.4437, 13.2079)
  line L99 (-228.4437, 13.2079) -> (-228.4437, 6.7921)
  line L100 (-228.4437, 6.7921) -> (-234, 3.5842)
  line L101 (-234, 3.5842) -> (-239.5562, 6.7921)
  line L102 (-228.4438, 111.3246) -> (-228.4438, 104.9088)
  line L103 (-234, 114.5325) -> (-228.4438, 111.3246)
  line L104 (-239.5563, 111.3246) -> (-234, 114.5325)
  line L105 (-239.5563, 104.9088) -> (-239.5563, 111.3246)
  line L106 (-228.4438, 104.9088) -> (-234, 101.7009)
  line L107 (-234, 101.7009) -> (-239.5563, 104.9088)
  line L108 (-228.4438, 209.4412) -> (-228.4438, 203.0254)
  line L109 (-234, 212.6491) -> (-228.4438, 209.4412)
  line L110 (-239.5563, 209.4412) -> (-234, 212.6491)
  line L111 (-239.5563, 203.0254) -> (-239.5563, 209.4412)
  line L112 (-228.4438, 203.0254) -> (-234, 199.8175)
  line L113 (-234, 199.8175) -> (-239.5563, 203.0254)
  line L114 (-228.4438, 307.5579) -> (-228.4438, 301.1421)
  line L115 (-234, 310.7658) -> (-228.4438, 307.5579)
  line L116 (-239.5563, 307.5579) -> (-234, 310.7658)
  line L117 (-239.5563, 301.1421) -> (-239.5563, 307.5579)
  line L118 (-228.4438, 301.1421) -> (-234, 297.9342)
  line L119 (-234, 297.9342) -> (-239.5563, 301.1421)
  line L120 (-127.5562, 13.2079) -> (-122, 16.4158)
  line L121 (-122, 16.4158) -> (-116.4437, 13.2079)
  line L122 (-127.5562, 6.7921) -> (-127.5562, 13.2079)
  line L123 (-116.4437, 13.2079) -> (-116.4437, 6.7921)
  line L124 (-116.4437, 6.7921) -> (-122, 3.5842)
  line L125 (-122, 3.5842) -> (-127.5562, 6.7921)
  line L126 (-15.5562, 13.2079) -> (-10, 16.4158)
  line L127 (-10, 16.4158) -> (-4.4437, 13.2079)
  line L128 (-15.5562, 6.7921) -> (-15.5562, 13.2079)
  line L129 (-4.4437, 13.2079) -> (-4.4437, 6.7921)
  line L130 (-4.4437, 6.7921) -> (-10, 3.5842)
  line L131 (-10, 3.5842) -> (-15.5562, 6.7921)
  line L132 (-15.5563, 111.3246) -> (-10, 114.5325)
  line L133 (-15.5563, 104.9088) -> (-15.5563, 111.3246)
  line L134 (-10, 114.5325) -> (-4.4438, 111.3246)
  line L135 (-10, 101.7009) -> (-15.5563, 104.9088)
  line L136 (-4.4438, 111.3246) -> (-4.4438, 104.9088)
  line L137 (-4.4438, 104.9088) -> (-10, 101.7009)
  line L138 (-15.5563, 209.4412) -> (-10, 212.6491)
  line L139 (-15.5563, 203.0254) -> (-15.5563, 209.4412)
  line L140 (-10, 212.6491) -> (-4.4438, 209.4412)
  line L141 (-10, 199.8175) -> (-15.5563, 203.0254)
  line L142 (-4.4438, 209.4412) -> (-4.4438, 203.0254)
  line L143 (-4.4438, 203.0254) -> (-10, 199.8175)
  line L144 (-15.5563, 307.5579) -> (-10, 310.7658)
  line L145 (-15.5563, 301.1421) -> (-15.5563, 307.5579)
  line L146 (-10, 310.7658) -> (-4.4438, 307.5579)
  line L147 (-10, 297.9342) -> (-15.5563, 301.1421)
  line L148 (-4.4438, 307.5579) -> (-4.4438, 301.1421)
  line L149 (-4.4438, 301.1421) -> (-10, 297.9342)
  line L150 (-116.4438, 307.5579) -> (-116.4438, 301.1421)
  line L151 (-122, 310.7658) -> (-116.4438, 307.5579)
  line L152 (-122, 297.9342) -> (-127.5563, 301.1421)
  line L153 (-127.5563, 301.1421) -> (-127.5563, 307.5579)
  line L154 (-127.5563, 307.5579) -> (-122, 310.7658)
  line L155 (-116.4438, 301.1421) -> (-122, 297.9342)
  point P0 (-239.5562, 10)
  point P1 (-239.5563, 108.1167)
  point P2 (-239.5563, 206.2333)
  point P3 (-239.5563, 304.35)
  point P4 (-234, 304.35)
  point P5 (-127.5562, 10)
  point P6 (-122, 10)
  point P7 (-15.5562, 10)
  point P8 (-10, 10)
  point P9 (-10, 108.1167)
  point P10 (-15.5563, 108.1167)
  point P11 (-10, 108.1167)
  point P12 (-10, 206.2333)
  point P13 (-15.5563, 206.2333)
  point P14 (-10, 206.2333)
  point P15 (-10, 304.35)
  point P16 (-15.5563, 304.35)
  point P17 (-10, 304.35)
  point P18 (-127.5563, 304.35)
  point P19 (-122, 304.35)
  dimension "d162" = 11.1125
  dimension "d163" = 11.1125
  dimension "d164" = 11.1125
  dimension "d166" = 120
  dimension "d167" = 120
  dimension "d170" = 98.1167
  dimension "d177" = 112
  dimension "d184" = 98.1167
  dimension "d191" = 112
extrude "Extrusion3" [suppressed]
equation "\"d12\" = d11"
equation "\"d17\" = d11"
equation "\"d30\" = -0.5 * d3 + 0.5 * d28"
equation "\"d31\" = -0.5 * d2 + 0.5 * d29"
equation "\"d34\" = -0.5 * d14 + 0.5 * d33"
equation "\"d35\" = -0.5 * d15 + 0.5 * d32"
equation "\"d66\" = d72"
equation "\"d70\" = d67"
equation "\"d71\" = d69"
equation "\"d73\" = d67"
equation "\"d74\" = d72"
equation "\"d79\" = d67 + d3 + 2 * d69"
equation "\"d84\" = d87"
equation "\"d85\" = d67"
equation "\"d88\" = d85"
equation "\"d89\" = d86"
equation "\"d97\" = d87"
equation "\"d98\" = d85"
equation "\"d102\" = d85 + d15 + 2 * d86"
equation "\"d108\" = d11"
equation "\"d109\" = -0.5 * d72 + 0.5 * d2"
equation "\"d110\" = d109"
equation "\"d111\" = -0.5 * d74 + 0.5 * d3"
equation "\"d112\" = -0.5 * d87 + 0.5 * d14"
equation "\"d113\" = d112"
equation "\"d114\" = -0.5 * d97 + 0.5 * d15"
properties part number "SignFace"
